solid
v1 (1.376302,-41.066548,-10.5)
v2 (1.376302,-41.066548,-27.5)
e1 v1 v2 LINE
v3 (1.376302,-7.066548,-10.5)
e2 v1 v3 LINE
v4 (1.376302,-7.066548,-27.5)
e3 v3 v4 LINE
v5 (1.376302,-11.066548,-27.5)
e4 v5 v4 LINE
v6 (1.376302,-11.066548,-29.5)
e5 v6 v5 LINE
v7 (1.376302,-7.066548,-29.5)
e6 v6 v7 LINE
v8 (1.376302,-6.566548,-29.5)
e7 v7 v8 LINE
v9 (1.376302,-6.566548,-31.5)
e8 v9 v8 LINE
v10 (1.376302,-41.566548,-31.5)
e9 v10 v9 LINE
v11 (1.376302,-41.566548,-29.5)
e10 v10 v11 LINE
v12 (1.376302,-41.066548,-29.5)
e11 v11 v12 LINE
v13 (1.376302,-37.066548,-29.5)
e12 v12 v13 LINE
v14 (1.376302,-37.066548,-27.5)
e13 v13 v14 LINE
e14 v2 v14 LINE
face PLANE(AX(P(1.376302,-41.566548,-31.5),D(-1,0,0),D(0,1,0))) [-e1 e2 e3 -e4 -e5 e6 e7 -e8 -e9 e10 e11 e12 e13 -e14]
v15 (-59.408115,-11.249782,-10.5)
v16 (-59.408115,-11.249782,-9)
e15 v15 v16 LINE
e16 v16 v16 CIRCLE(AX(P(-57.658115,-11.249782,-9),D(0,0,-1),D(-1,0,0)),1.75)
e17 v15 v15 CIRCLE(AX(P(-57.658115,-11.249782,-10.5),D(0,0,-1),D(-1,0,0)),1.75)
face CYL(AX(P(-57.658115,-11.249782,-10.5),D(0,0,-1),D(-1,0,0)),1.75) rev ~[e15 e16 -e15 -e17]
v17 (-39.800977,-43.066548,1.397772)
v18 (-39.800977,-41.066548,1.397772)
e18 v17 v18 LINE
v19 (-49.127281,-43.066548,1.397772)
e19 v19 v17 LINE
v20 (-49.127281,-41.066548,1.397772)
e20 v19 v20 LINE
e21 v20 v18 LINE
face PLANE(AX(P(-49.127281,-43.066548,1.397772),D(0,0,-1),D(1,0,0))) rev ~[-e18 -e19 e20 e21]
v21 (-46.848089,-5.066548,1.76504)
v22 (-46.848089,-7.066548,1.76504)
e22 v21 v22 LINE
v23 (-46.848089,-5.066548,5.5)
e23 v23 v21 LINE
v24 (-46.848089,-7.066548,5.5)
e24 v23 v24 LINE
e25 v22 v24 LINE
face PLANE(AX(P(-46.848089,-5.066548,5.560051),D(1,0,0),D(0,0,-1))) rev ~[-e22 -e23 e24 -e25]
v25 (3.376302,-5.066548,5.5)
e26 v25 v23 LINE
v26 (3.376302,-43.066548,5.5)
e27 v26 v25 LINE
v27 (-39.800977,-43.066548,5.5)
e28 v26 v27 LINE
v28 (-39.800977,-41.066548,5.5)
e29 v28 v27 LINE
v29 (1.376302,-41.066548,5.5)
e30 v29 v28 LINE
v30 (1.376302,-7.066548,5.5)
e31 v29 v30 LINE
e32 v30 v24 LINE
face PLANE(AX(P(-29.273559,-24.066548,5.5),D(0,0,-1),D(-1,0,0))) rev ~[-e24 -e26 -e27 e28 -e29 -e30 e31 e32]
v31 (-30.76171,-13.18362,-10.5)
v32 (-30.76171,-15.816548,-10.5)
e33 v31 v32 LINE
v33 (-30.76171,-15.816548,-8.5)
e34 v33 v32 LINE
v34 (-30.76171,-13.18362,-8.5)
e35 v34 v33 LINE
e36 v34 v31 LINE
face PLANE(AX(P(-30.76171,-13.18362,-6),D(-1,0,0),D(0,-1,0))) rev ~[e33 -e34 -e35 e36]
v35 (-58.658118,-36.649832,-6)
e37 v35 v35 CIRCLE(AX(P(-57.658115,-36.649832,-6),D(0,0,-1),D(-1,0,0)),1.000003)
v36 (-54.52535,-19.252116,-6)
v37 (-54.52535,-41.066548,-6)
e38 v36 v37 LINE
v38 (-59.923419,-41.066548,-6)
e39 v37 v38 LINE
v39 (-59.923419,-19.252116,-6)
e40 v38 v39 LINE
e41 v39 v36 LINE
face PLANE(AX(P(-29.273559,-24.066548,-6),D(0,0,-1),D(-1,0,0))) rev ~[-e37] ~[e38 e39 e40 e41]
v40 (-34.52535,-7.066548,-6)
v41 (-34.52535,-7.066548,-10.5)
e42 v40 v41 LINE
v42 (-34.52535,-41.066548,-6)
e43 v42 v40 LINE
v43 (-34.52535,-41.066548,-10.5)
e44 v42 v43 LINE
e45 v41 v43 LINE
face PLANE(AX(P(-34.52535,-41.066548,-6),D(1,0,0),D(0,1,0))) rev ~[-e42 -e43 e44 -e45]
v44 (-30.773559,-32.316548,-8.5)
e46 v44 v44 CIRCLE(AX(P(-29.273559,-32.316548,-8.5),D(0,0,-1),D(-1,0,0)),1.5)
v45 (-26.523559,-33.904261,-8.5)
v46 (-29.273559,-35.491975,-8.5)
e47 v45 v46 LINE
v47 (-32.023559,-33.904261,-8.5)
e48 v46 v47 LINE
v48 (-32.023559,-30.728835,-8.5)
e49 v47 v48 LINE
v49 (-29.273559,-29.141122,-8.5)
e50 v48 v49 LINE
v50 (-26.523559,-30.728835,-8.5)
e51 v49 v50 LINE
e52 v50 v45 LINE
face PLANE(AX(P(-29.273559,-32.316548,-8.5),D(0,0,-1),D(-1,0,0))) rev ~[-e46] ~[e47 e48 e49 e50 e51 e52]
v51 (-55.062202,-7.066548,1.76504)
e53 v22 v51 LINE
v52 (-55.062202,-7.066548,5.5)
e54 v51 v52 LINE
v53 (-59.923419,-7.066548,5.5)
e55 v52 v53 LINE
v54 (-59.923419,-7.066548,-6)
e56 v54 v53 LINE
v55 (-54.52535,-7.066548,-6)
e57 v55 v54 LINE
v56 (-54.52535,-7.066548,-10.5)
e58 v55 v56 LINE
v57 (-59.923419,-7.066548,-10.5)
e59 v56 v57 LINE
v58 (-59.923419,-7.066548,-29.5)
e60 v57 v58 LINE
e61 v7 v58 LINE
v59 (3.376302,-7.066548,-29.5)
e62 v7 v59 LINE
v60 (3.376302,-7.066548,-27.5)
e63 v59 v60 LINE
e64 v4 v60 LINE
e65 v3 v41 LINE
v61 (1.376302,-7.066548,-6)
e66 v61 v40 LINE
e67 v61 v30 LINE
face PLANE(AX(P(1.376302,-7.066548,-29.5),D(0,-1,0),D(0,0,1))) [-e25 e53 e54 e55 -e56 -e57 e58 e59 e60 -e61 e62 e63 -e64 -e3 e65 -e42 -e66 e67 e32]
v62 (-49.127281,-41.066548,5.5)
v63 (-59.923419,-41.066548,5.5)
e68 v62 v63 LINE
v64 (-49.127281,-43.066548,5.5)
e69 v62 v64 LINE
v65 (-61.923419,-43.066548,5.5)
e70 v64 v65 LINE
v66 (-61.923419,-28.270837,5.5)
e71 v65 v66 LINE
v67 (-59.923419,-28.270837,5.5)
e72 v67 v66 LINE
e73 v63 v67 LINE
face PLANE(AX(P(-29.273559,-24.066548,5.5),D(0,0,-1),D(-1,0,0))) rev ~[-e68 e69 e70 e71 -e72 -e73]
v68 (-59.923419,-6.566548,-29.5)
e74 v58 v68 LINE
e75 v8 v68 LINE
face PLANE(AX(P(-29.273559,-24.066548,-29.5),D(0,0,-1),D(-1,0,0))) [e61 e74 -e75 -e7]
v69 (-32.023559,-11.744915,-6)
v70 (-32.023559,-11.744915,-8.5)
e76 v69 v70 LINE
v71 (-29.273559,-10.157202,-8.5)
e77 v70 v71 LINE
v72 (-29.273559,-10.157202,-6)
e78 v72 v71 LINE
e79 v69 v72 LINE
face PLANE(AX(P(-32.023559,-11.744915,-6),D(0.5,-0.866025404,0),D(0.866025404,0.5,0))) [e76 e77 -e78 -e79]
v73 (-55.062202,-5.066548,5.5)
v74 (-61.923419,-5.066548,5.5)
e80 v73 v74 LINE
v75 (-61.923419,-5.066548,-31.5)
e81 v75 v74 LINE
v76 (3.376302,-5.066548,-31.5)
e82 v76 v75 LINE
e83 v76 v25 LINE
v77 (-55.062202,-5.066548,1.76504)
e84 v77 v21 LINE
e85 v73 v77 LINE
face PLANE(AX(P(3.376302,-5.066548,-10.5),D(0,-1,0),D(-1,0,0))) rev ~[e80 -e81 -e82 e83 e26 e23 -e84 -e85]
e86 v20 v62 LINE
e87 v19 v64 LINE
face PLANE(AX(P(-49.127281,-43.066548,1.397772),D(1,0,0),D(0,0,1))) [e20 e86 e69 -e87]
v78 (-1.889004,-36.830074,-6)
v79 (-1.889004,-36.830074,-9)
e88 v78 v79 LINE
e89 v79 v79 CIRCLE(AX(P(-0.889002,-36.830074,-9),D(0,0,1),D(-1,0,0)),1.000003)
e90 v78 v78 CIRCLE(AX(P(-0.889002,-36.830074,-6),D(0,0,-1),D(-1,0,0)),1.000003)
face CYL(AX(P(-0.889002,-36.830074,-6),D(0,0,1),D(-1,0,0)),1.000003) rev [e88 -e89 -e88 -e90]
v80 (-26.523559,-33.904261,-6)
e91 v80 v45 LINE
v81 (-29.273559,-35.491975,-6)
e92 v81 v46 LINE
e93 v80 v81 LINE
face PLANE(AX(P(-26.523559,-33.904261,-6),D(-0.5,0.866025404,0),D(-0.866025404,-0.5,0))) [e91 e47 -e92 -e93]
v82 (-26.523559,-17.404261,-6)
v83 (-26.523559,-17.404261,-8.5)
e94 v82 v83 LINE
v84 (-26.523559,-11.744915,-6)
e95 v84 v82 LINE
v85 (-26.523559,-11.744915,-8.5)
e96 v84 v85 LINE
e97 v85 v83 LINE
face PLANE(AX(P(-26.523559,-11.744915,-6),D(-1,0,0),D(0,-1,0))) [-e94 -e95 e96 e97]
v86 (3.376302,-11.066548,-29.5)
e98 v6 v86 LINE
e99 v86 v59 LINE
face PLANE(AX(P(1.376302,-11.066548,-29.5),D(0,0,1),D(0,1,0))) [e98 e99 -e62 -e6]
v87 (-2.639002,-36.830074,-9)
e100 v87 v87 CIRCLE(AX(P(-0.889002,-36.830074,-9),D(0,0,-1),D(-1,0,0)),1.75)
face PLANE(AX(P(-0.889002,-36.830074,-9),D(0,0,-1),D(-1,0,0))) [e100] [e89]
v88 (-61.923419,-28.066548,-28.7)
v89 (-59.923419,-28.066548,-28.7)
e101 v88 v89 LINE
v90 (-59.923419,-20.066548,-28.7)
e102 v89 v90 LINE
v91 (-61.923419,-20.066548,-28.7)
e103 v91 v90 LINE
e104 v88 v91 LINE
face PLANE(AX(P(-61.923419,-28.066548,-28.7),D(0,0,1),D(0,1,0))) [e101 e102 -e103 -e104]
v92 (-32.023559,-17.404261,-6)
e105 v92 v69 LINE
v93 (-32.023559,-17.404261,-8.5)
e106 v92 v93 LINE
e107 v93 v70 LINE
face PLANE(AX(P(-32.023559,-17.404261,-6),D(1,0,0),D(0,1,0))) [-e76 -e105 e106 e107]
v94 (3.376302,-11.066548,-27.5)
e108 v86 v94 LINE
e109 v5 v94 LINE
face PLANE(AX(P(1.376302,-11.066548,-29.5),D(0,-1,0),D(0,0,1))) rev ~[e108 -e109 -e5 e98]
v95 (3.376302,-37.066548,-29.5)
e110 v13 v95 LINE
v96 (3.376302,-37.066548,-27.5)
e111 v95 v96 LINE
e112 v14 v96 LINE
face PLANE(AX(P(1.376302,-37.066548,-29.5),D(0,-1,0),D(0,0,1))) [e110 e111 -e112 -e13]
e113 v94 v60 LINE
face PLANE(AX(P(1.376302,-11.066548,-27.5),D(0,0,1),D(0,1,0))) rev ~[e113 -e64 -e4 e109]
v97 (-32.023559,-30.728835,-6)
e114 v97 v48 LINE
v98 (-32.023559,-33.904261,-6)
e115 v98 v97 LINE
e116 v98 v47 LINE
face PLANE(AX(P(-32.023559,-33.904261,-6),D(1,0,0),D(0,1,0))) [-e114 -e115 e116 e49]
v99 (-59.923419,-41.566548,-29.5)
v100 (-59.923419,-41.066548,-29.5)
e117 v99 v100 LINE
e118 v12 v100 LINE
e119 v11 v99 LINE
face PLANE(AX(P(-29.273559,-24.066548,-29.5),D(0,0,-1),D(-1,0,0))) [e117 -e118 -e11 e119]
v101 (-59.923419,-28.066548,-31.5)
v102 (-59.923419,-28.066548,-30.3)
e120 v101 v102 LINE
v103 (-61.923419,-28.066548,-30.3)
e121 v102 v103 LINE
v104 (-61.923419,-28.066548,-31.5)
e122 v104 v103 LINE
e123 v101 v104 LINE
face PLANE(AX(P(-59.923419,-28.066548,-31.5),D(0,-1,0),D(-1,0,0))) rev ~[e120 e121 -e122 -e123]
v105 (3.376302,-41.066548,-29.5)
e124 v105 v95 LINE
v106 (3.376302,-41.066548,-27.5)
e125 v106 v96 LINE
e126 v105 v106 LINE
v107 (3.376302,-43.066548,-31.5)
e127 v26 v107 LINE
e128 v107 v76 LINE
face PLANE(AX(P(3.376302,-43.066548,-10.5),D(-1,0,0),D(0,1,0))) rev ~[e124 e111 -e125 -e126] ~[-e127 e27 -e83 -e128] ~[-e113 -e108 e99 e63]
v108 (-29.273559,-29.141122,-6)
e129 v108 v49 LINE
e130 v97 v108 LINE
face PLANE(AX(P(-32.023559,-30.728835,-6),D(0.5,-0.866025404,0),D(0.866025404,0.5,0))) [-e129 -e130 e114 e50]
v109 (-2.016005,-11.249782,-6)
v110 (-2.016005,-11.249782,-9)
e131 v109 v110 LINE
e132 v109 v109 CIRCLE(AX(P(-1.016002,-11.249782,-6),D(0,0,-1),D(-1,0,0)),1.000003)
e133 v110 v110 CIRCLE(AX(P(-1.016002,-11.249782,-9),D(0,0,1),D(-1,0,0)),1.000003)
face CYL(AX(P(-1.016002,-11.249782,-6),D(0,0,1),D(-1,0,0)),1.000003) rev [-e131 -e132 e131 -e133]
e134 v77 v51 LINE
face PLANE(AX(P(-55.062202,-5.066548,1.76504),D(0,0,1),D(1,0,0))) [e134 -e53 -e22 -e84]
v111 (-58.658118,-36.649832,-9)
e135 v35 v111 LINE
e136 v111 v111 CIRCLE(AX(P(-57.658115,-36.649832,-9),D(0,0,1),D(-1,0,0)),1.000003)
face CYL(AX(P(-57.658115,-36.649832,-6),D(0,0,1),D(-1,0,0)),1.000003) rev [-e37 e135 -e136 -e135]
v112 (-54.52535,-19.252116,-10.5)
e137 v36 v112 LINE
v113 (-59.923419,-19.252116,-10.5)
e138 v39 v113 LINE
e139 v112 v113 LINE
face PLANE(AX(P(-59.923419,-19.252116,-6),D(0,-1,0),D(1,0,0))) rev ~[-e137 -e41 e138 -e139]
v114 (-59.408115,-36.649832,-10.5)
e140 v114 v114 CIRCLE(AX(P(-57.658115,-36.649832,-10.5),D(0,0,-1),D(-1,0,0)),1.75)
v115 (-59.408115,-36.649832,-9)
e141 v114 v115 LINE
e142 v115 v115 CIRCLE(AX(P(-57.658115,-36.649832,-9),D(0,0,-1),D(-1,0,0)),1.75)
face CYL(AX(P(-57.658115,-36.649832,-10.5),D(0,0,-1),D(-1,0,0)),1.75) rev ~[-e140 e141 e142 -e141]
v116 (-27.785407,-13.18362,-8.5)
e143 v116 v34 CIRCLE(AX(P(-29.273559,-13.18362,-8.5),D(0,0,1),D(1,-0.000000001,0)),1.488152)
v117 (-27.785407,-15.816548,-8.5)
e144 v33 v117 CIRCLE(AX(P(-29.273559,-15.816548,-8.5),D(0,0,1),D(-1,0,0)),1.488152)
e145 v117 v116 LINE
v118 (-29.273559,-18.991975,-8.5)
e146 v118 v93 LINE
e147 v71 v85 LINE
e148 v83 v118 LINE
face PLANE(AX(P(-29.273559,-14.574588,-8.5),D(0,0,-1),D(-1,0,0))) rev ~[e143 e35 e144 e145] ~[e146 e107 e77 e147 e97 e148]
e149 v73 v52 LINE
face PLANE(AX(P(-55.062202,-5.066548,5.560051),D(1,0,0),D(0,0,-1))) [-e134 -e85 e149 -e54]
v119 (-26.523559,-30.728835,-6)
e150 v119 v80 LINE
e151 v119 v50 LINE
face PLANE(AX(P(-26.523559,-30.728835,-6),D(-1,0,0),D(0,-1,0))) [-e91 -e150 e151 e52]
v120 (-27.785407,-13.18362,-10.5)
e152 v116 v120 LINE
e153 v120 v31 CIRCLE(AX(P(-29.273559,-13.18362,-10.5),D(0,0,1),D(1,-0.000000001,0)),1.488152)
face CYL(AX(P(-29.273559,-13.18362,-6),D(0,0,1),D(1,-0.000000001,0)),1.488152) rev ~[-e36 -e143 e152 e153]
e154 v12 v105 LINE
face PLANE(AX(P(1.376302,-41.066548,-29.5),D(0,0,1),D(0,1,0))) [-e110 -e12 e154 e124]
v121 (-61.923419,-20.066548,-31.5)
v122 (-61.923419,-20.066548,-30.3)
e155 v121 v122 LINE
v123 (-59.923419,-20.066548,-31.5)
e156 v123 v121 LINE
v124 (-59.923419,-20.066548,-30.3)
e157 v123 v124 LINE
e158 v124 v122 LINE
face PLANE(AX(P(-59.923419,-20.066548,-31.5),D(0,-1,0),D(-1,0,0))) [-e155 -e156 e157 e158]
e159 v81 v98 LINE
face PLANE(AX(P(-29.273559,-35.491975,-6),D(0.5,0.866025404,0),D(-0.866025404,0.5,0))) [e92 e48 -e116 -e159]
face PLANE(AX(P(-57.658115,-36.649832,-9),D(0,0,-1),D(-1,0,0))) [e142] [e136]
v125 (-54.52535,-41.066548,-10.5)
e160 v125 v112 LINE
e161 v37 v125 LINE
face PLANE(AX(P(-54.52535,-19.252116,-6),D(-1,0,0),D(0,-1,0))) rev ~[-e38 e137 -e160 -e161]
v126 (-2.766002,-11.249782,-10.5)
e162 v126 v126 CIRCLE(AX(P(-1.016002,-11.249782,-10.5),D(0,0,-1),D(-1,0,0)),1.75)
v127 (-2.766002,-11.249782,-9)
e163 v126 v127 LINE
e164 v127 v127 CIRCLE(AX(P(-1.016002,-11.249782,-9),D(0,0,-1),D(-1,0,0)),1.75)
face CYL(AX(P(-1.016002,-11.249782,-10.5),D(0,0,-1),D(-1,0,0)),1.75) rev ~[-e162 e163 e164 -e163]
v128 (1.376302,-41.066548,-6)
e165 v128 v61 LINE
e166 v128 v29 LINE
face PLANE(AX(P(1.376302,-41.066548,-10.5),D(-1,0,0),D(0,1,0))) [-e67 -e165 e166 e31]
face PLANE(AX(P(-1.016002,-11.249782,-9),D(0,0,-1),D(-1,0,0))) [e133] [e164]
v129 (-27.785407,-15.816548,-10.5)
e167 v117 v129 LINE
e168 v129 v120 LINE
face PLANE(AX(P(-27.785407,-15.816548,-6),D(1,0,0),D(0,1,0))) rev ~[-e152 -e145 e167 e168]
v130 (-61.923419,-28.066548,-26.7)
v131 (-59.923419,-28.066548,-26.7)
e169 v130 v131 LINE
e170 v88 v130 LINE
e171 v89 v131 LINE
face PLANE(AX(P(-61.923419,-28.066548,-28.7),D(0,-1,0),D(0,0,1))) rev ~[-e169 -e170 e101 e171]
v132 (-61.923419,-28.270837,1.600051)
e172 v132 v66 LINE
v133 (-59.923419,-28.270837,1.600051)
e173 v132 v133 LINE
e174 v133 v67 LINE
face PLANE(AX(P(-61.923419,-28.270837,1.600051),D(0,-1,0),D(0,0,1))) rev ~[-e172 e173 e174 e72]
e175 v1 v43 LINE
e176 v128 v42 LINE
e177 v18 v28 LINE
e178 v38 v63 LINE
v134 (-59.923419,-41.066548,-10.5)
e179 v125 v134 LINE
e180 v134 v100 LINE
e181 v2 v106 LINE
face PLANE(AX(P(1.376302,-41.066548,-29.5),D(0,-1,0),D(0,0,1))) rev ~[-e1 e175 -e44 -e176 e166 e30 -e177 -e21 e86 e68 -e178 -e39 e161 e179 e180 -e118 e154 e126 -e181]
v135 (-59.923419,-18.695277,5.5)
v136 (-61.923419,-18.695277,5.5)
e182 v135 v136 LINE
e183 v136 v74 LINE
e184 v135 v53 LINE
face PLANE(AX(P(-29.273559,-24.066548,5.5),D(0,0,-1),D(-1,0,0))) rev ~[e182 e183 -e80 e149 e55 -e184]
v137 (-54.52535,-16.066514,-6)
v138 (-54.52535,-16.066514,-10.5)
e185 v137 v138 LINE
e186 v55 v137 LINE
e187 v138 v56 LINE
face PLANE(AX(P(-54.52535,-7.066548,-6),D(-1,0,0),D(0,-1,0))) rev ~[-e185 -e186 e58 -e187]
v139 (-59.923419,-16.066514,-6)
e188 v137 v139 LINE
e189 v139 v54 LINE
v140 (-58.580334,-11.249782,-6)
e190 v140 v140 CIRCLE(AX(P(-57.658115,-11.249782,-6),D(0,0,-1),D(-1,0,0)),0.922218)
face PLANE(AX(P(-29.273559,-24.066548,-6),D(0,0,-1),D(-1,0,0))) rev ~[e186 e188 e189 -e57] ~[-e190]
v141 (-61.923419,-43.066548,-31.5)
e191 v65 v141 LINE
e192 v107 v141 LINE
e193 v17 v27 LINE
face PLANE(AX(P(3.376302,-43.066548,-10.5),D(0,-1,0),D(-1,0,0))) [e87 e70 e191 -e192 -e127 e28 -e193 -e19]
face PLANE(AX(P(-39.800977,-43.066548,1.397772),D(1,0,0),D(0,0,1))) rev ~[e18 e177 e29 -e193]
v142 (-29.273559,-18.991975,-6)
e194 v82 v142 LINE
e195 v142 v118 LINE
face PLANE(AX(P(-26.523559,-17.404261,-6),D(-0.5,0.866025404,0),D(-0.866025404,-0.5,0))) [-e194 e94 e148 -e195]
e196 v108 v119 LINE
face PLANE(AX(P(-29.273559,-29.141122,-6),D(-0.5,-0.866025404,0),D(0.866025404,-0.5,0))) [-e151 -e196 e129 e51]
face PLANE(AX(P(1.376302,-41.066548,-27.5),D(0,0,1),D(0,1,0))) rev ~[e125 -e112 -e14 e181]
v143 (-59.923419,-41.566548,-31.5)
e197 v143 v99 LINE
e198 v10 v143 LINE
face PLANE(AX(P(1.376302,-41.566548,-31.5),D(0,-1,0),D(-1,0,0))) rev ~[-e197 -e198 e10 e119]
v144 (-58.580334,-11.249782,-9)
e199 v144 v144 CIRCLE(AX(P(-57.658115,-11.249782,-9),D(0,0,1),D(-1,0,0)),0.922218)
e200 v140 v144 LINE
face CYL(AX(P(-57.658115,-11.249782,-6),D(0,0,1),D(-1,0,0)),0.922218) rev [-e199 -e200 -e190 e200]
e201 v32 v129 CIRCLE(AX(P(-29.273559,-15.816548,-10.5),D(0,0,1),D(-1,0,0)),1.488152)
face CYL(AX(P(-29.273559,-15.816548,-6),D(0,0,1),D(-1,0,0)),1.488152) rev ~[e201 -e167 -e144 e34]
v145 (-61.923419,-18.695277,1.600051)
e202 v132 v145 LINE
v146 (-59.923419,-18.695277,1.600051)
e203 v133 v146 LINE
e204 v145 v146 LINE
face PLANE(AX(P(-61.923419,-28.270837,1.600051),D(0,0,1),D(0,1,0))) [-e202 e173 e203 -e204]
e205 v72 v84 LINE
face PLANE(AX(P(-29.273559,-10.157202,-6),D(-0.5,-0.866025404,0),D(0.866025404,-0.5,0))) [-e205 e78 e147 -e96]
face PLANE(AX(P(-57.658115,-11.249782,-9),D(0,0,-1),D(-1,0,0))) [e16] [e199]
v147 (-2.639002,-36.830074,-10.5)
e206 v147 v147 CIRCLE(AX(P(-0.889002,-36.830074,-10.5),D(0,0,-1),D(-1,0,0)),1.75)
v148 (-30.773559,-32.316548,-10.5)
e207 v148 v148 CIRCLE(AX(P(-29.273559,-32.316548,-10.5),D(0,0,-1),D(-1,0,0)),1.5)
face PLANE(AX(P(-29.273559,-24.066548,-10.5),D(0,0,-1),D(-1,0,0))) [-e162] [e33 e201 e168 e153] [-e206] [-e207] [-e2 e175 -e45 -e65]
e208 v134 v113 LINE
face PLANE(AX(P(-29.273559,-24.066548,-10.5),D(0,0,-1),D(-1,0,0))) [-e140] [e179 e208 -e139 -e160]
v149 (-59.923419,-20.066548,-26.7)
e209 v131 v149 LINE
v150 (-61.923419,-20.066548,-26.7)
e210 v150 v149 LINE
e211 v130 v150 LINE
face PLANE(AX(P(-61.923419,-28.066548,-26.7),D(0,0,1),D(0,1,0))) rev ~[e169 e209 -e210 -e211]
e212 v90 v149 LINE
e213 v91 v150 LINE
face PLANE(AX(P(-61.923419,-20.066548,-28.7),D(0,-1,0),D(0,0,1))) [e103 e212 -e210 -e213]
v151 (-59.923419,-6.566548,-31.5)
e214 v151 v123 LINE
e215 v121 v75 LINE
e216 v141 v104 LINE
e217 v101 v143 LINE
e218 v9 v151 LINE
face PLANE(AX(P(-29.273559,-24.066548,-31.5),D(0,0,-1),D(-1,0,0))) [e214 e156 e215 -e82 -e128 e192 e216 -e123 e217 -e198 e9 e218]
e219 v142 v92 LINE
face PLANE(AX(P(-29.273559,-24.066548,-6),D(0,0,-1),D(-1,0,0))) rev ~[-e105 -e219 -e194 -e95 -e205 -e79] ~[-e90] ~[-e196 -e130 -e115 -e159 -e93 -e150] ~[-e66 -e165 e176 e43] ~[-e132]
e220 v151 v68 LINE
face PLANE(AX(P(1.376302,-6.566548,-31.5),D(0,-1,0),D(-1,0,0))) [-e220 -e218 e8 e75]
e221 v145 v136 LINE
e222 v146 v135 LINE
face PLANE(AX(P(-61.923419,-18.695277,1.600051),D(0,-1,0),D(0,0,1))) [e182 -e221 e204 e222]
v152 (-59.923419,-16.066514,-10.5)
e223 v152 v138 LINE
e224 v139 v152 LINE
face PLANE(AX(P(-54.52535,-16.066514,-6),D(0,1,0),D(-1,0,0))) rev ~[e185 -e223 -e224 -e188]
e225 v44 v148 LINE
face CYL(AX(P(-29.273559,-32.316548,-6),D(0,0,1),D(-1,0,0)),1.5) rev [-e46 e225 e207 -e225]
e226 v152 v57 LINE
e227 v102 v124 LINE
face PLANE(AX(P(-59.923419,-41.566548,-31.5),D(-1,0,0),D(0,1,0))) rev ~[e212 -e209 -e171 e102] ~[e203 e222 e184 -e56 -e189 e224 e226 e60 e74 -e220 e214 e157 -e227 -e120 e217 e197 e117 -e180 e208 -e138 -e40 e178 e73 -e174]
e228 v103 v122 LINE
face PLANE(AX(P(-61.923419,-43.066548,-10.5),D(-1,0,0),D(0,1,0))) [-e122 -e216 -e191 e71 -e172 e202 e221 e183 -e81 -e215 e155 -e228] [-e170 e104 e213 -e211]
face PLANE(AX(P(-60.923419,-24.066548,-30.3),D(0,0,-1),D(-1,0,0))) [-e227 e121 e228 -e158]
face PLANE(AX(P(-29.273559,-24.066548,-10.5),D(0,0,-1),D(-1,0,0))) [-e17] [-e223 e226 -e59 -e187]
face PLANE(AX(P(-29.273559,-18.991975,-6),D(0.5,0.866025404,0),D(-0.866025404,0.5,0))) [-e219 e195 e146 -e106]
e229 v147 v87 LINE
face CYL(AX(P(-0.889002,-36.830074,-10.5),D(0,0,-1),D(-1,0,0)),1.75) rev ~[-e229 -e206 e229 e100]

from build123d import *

# Parameters (mm, degrees)
SKETCH_2_W           = 65.2997206
SKETCH_2_H           = 38
SKETCH_2_R           = 1.00000254
SKETCH_2_R_2         = 0.922218434
SKETCH_2_R_3         = 1.5
EXTRUDE_2_DEPTH      = 4.5
SKETCH_3_R           = 1.5
CUT_EXTRUDE_2_DEPTH  = 2.5
SKETCH_5_W           = 65.2997206
SKETCH_5_H           = 38
SKETCH_5_W_2         = 61.2997206
SKETCH_5_H_2         = 34
EXTRUDE_3_DEPTH      = 21
EXTRUDE_3_DEPTH_BACK = 16
SKETCH_7_W           = 8.214112973
SKETCH_7_H           = 3.795011114
CUT_EXTRUDE_4_DEPTH  = 3
SKETCH_8_W           = 4
SKETCH_8_H           = 9.575559499
CUT_EXTRUDE_5_DEPTH  = 3
SKETCH_9_W           = 9.326303795
SKETCH_9_H           = 4.202278939
CUT_EXTRUDE_6_DEPTH  = 3
CUT_EXTRUDE_7_DEPTH  = 10
SKETCH_15_R          = 1.75
CUT_EXTRUDE_8_DEPTH  = 1.5
SKETCH_18_W          = 61.2997206
SKETCH_18_H          = 35
CUT_EXTRUDE_9_DEPTH  = 2
SKETCH_19_W          = 2
SKETCH_19_H          = 4
CUT_EXTRUDE_10_DEPTH = 2
SKETCH_20_W          = 2
SKETCH_20_H          = 8
CUT_EXTRUDE_11_DEPTH = 1.2
SKETCH_21_W          = 2
SKETCH_21_H          = 8
CUT_EXTRUDE_12_DEPTH = 2


with BuildPart() as part:
    # 草图2 → 凸台-拉伸2 (new body)
    with BuildSketch(Plane(origin=(0, 0, -6), x_dir=(-1, 0, 0), z_dir=(0, 0, -1))):
        with Locations((29.273558547, -24.066548133)):
            Rectangle(SKETCH_2_W, SKETCH_2_H)
        with Locations((1.016002032, -11.24978156)):
            Circle(SKETCH_2_R, mode=Mode.SUBTRACT)
        with Locations((0.889001778, -36.83007366)):
            Circle(SKETCH_2_R, mode=Mode.SUBTRACT)
        with Locations((57.658115316, -36.64983236)):
            Circle(SKETCH_2_R, mode=Mode.SUBTRACT)
        with Locations((57.658115316, -11.24978156)):
            Circle(SKETCH_2_R_2, mode=Mode.SUBTRACT)
        with Locations((29.273558547, -32.316548133)):
            Circle(SKETCH_2_R_3, mode=Mode.SUBTRACT)
        with BuildLine():
            Line((27.785407033, -15.816548133), (27.785407033, -13.183619987))
            ThreePointArc((27.785407033, -13.183619987), (29.273558547, -11.695468472), (30.761710061, -13.183619987))
            Line((30.761710061, -13.183619987), (30.761710061, -15.816548133))
            ThreePointArc((30.761710061, -15.816548133), (29.273558547, -17.304699647), (27.785407033, -15.816548133))
        make_face(mode=Mode.SUBTRACT)
    extrude(amount=EXTRUDE_2_DEPTH)

    # 草图3 → 切除-拉伸2 (cut)
    with BuildSketch(Plane(origin=(0, 0, -6), x_dir=(-1, 0, 0), z_dir=(0, 0, -1))):
        Polygon((29.273558547, -18.991974614), (32.023558547, -17.404261373), (32.023558547, -14.920341582), (32.023558547, -14.228834893), (32.023558547, -11.744915102), (29.273558547, -10.157201862), (26.523558547, -11.744915102), (26.523558547, -14.228834893), (26.523558547, -14.920341582), (26.523558547, -17.404261373), align=None)
        with BuildLine():
            ThreePointArc((30.761710061, -15.816548133), (29.273558547, -17.304699647), (27.785407033, -15.816548133))
            Line((27.785407033, -15.816548133), (27.785407033, -13.183619987))
            ThreePointArc((27.785407033, -13.183619987), (29.273558547, -11.695468472), (30.761710061, -13.183619987))
            Line((30.761710061, -13.183619987), (30.761710061, -15.816548133))
        make_face(mode=Mode.SUBTRACT)
        Polygon((26.523558547, -30.728834893), (26.523558547, -33.904261373), (29.273558547, -35.491974614), (32.023558547, -33.904261373), (32.023558547, -30.728834893), (29.273558547, -29.141121653), align=None)
        with Locations((29.273558547, -32.316548133)):
            Circle(SKETCH_3_R, mode=Mode.SUBTRACT)
    extrude(amount=CUT_EXTRUDE_2_DEPTH, mode=Mode.SUBTRACT)

    # 草图5 → 凸台-拉伸3 (add, two sides)
    with BuildSketch(Plane(origin=(0, 0, -10.5), x_dir=(-1, 0, 0), z_dir=(0, 0, -1))) as extrude_3_sk:
        with Locations((29.273558547, -24.066548133)):
            Rectangle(SKETCH_5_W, SKETCH_5_H)
        with Locations((29.273558547, -24.066548133)):
            Rectangle(SKETCH_5_W_2, SKETCH_5_H_2, mode=Mode.SUBTRACT)
    extrude(amount=EXTRUDE_3_DEPTH)
    extrude(extrude_3_sk.sketch, amount=-EXTRUDE_3_DEPTH_BACK)

    # 草图7 → 切除-拉伸4 (cut)
    with BuildSketch(Plane(origin=(0, -5.066548133, 0), x_dir=(1, 0, 0), z_dir=(0, 1, 0))):
        with Locations((-50.955145133, -3.662545243)):
            Rectangle(SKETCH_7_W, SKETCH_7_H)
    extrude(amount=-CUT_EXTRUDE_4_DEPTH, mode=Mode.SUBTRACT)

    # 草图8 → 切除-拉伸5 (cut)
    with BuildSketch(Plane.ZY.offset(61.923418847)):
        with Locations((3.6000508, -23.483057223)):
            Rectangle(SKETCH_8_W, SKETCH_8_H)
    extrude(amount=-CUT_EXTRUDE_5_DEPTH, mode=Mode.SUBTRACT)

    # 草图9 → 切除-拉伸6 (cut)
    with BuildSketch(Plane.XZ.offset(43.066548133)):
        with Locations((-44.464129124, 3.49891133)):
            Rectangle(SKETCH_9_W, SKETCH_9_H)
    extrude(amount=-CUT_EXTRUDE_6_DEPTH, mode=Mode.SUBTRACT)

    # 草图13 → 切除-拉伸7 (cut)
    with BuildSketch(Plane.XY.offset(-6)):
        Polygon((-59.923418847, -16.066514367), (-59.923418847, -19.252115931), (-54.525349934, -19.252115931), (-54.525349934, -41.066548133), (-34.525349934, -41.066548133), (-34.525349934, -7.066548133), (-54.525349934, -7.066548133), (-54.525349934, -12.880912803), (-54.525349934, -16.066514367), align=None)
    extrude(amount=-CUT_EXTRUDE_7_DEPTH, mode=Mode.SUBTRACT)

    # 草图15 → 切除-拉伸8 (cut)
    with BuildSketch(Plane(origin=(0, 0, -10.5), x_dir=(-1, 0, 0), z_dir=(0, 0, -1))):
        with Locations((1.016002032, -11.24978156)):
            Circle(SKETCH_15_R)
        with Locations((57.658115316, -11.24978156)):
            Circle(SKETCH_15_R)
        with Locations((0.889001778, -36.83007366)):
            Circle(SKETCH_15_R)
        with Locations((57.658115316, -36.64983236)):
            Circle(SKETCH_15_R)
    extrude(amount=-CUT_EXTRUDE_8_DEPTH, mode=Mode.SUBTRACT)

    # 草图18 → 切除-拉伸9 (cut)
    with BuildSketch(Plane(origin=(0, 0, -31.5), x_dir=(-1, 0, 0), z_dir=(0, 0, -1))):
        with Locations((29.273558547, -24.066548133)):
            Rectangle(SKETCH_18_W, SKETCH_18_H)
    extrude(amount=-CUT_EXTRUDE_9_DEPTH, mode=Mode.SUBTRACT)

    # 草图19 → 切除-拉伸10 (cut)
    with BuildSketch(Plane.ZY.offset(-1.376301753)):
        with Locations((-28.5, -9.066548133)):
            Rectangle(SKETCH_19_W, SKETCH_19_H)
        with Locations((-28.5, -39.066548133)):
            Rectangle(SKETCH_19_W, SKETCH_19_H)
    extrude(amount=-CUT_EXTRUDE_10_DEPTH, mode=Mode.SUBTRACT)

    # 草图20 → 切除-拉伸11 (cut)
    with BuildSketch(Plane(origin=(0, 0, -31.5), x_dir=(-1, 0, 0), z_dir=(0, 0, -1))):
        with Locations((60.923418847, -24.066548133)):
            Rectangle(SKETCH_20_W, SKETCH_20_H)
    extrude(amount=-CUT_EXTRUDE_11_DEPTH, mode=Mode.SUBTRACT)

    # 草图21 → 切除-拉伸12 (cut)
    with BuildSketch(Plane.ZY.offset(61.923418847)):
        with Locations((-27.7, -24.066548133)):
            Rectangle(SKETCH_21_W, SKETCH_21_H)
    extrude(amount=-CUT_EXTRUDE_12_DEPTH, mode=Mode.SUBTRACT)


solid = part.part
